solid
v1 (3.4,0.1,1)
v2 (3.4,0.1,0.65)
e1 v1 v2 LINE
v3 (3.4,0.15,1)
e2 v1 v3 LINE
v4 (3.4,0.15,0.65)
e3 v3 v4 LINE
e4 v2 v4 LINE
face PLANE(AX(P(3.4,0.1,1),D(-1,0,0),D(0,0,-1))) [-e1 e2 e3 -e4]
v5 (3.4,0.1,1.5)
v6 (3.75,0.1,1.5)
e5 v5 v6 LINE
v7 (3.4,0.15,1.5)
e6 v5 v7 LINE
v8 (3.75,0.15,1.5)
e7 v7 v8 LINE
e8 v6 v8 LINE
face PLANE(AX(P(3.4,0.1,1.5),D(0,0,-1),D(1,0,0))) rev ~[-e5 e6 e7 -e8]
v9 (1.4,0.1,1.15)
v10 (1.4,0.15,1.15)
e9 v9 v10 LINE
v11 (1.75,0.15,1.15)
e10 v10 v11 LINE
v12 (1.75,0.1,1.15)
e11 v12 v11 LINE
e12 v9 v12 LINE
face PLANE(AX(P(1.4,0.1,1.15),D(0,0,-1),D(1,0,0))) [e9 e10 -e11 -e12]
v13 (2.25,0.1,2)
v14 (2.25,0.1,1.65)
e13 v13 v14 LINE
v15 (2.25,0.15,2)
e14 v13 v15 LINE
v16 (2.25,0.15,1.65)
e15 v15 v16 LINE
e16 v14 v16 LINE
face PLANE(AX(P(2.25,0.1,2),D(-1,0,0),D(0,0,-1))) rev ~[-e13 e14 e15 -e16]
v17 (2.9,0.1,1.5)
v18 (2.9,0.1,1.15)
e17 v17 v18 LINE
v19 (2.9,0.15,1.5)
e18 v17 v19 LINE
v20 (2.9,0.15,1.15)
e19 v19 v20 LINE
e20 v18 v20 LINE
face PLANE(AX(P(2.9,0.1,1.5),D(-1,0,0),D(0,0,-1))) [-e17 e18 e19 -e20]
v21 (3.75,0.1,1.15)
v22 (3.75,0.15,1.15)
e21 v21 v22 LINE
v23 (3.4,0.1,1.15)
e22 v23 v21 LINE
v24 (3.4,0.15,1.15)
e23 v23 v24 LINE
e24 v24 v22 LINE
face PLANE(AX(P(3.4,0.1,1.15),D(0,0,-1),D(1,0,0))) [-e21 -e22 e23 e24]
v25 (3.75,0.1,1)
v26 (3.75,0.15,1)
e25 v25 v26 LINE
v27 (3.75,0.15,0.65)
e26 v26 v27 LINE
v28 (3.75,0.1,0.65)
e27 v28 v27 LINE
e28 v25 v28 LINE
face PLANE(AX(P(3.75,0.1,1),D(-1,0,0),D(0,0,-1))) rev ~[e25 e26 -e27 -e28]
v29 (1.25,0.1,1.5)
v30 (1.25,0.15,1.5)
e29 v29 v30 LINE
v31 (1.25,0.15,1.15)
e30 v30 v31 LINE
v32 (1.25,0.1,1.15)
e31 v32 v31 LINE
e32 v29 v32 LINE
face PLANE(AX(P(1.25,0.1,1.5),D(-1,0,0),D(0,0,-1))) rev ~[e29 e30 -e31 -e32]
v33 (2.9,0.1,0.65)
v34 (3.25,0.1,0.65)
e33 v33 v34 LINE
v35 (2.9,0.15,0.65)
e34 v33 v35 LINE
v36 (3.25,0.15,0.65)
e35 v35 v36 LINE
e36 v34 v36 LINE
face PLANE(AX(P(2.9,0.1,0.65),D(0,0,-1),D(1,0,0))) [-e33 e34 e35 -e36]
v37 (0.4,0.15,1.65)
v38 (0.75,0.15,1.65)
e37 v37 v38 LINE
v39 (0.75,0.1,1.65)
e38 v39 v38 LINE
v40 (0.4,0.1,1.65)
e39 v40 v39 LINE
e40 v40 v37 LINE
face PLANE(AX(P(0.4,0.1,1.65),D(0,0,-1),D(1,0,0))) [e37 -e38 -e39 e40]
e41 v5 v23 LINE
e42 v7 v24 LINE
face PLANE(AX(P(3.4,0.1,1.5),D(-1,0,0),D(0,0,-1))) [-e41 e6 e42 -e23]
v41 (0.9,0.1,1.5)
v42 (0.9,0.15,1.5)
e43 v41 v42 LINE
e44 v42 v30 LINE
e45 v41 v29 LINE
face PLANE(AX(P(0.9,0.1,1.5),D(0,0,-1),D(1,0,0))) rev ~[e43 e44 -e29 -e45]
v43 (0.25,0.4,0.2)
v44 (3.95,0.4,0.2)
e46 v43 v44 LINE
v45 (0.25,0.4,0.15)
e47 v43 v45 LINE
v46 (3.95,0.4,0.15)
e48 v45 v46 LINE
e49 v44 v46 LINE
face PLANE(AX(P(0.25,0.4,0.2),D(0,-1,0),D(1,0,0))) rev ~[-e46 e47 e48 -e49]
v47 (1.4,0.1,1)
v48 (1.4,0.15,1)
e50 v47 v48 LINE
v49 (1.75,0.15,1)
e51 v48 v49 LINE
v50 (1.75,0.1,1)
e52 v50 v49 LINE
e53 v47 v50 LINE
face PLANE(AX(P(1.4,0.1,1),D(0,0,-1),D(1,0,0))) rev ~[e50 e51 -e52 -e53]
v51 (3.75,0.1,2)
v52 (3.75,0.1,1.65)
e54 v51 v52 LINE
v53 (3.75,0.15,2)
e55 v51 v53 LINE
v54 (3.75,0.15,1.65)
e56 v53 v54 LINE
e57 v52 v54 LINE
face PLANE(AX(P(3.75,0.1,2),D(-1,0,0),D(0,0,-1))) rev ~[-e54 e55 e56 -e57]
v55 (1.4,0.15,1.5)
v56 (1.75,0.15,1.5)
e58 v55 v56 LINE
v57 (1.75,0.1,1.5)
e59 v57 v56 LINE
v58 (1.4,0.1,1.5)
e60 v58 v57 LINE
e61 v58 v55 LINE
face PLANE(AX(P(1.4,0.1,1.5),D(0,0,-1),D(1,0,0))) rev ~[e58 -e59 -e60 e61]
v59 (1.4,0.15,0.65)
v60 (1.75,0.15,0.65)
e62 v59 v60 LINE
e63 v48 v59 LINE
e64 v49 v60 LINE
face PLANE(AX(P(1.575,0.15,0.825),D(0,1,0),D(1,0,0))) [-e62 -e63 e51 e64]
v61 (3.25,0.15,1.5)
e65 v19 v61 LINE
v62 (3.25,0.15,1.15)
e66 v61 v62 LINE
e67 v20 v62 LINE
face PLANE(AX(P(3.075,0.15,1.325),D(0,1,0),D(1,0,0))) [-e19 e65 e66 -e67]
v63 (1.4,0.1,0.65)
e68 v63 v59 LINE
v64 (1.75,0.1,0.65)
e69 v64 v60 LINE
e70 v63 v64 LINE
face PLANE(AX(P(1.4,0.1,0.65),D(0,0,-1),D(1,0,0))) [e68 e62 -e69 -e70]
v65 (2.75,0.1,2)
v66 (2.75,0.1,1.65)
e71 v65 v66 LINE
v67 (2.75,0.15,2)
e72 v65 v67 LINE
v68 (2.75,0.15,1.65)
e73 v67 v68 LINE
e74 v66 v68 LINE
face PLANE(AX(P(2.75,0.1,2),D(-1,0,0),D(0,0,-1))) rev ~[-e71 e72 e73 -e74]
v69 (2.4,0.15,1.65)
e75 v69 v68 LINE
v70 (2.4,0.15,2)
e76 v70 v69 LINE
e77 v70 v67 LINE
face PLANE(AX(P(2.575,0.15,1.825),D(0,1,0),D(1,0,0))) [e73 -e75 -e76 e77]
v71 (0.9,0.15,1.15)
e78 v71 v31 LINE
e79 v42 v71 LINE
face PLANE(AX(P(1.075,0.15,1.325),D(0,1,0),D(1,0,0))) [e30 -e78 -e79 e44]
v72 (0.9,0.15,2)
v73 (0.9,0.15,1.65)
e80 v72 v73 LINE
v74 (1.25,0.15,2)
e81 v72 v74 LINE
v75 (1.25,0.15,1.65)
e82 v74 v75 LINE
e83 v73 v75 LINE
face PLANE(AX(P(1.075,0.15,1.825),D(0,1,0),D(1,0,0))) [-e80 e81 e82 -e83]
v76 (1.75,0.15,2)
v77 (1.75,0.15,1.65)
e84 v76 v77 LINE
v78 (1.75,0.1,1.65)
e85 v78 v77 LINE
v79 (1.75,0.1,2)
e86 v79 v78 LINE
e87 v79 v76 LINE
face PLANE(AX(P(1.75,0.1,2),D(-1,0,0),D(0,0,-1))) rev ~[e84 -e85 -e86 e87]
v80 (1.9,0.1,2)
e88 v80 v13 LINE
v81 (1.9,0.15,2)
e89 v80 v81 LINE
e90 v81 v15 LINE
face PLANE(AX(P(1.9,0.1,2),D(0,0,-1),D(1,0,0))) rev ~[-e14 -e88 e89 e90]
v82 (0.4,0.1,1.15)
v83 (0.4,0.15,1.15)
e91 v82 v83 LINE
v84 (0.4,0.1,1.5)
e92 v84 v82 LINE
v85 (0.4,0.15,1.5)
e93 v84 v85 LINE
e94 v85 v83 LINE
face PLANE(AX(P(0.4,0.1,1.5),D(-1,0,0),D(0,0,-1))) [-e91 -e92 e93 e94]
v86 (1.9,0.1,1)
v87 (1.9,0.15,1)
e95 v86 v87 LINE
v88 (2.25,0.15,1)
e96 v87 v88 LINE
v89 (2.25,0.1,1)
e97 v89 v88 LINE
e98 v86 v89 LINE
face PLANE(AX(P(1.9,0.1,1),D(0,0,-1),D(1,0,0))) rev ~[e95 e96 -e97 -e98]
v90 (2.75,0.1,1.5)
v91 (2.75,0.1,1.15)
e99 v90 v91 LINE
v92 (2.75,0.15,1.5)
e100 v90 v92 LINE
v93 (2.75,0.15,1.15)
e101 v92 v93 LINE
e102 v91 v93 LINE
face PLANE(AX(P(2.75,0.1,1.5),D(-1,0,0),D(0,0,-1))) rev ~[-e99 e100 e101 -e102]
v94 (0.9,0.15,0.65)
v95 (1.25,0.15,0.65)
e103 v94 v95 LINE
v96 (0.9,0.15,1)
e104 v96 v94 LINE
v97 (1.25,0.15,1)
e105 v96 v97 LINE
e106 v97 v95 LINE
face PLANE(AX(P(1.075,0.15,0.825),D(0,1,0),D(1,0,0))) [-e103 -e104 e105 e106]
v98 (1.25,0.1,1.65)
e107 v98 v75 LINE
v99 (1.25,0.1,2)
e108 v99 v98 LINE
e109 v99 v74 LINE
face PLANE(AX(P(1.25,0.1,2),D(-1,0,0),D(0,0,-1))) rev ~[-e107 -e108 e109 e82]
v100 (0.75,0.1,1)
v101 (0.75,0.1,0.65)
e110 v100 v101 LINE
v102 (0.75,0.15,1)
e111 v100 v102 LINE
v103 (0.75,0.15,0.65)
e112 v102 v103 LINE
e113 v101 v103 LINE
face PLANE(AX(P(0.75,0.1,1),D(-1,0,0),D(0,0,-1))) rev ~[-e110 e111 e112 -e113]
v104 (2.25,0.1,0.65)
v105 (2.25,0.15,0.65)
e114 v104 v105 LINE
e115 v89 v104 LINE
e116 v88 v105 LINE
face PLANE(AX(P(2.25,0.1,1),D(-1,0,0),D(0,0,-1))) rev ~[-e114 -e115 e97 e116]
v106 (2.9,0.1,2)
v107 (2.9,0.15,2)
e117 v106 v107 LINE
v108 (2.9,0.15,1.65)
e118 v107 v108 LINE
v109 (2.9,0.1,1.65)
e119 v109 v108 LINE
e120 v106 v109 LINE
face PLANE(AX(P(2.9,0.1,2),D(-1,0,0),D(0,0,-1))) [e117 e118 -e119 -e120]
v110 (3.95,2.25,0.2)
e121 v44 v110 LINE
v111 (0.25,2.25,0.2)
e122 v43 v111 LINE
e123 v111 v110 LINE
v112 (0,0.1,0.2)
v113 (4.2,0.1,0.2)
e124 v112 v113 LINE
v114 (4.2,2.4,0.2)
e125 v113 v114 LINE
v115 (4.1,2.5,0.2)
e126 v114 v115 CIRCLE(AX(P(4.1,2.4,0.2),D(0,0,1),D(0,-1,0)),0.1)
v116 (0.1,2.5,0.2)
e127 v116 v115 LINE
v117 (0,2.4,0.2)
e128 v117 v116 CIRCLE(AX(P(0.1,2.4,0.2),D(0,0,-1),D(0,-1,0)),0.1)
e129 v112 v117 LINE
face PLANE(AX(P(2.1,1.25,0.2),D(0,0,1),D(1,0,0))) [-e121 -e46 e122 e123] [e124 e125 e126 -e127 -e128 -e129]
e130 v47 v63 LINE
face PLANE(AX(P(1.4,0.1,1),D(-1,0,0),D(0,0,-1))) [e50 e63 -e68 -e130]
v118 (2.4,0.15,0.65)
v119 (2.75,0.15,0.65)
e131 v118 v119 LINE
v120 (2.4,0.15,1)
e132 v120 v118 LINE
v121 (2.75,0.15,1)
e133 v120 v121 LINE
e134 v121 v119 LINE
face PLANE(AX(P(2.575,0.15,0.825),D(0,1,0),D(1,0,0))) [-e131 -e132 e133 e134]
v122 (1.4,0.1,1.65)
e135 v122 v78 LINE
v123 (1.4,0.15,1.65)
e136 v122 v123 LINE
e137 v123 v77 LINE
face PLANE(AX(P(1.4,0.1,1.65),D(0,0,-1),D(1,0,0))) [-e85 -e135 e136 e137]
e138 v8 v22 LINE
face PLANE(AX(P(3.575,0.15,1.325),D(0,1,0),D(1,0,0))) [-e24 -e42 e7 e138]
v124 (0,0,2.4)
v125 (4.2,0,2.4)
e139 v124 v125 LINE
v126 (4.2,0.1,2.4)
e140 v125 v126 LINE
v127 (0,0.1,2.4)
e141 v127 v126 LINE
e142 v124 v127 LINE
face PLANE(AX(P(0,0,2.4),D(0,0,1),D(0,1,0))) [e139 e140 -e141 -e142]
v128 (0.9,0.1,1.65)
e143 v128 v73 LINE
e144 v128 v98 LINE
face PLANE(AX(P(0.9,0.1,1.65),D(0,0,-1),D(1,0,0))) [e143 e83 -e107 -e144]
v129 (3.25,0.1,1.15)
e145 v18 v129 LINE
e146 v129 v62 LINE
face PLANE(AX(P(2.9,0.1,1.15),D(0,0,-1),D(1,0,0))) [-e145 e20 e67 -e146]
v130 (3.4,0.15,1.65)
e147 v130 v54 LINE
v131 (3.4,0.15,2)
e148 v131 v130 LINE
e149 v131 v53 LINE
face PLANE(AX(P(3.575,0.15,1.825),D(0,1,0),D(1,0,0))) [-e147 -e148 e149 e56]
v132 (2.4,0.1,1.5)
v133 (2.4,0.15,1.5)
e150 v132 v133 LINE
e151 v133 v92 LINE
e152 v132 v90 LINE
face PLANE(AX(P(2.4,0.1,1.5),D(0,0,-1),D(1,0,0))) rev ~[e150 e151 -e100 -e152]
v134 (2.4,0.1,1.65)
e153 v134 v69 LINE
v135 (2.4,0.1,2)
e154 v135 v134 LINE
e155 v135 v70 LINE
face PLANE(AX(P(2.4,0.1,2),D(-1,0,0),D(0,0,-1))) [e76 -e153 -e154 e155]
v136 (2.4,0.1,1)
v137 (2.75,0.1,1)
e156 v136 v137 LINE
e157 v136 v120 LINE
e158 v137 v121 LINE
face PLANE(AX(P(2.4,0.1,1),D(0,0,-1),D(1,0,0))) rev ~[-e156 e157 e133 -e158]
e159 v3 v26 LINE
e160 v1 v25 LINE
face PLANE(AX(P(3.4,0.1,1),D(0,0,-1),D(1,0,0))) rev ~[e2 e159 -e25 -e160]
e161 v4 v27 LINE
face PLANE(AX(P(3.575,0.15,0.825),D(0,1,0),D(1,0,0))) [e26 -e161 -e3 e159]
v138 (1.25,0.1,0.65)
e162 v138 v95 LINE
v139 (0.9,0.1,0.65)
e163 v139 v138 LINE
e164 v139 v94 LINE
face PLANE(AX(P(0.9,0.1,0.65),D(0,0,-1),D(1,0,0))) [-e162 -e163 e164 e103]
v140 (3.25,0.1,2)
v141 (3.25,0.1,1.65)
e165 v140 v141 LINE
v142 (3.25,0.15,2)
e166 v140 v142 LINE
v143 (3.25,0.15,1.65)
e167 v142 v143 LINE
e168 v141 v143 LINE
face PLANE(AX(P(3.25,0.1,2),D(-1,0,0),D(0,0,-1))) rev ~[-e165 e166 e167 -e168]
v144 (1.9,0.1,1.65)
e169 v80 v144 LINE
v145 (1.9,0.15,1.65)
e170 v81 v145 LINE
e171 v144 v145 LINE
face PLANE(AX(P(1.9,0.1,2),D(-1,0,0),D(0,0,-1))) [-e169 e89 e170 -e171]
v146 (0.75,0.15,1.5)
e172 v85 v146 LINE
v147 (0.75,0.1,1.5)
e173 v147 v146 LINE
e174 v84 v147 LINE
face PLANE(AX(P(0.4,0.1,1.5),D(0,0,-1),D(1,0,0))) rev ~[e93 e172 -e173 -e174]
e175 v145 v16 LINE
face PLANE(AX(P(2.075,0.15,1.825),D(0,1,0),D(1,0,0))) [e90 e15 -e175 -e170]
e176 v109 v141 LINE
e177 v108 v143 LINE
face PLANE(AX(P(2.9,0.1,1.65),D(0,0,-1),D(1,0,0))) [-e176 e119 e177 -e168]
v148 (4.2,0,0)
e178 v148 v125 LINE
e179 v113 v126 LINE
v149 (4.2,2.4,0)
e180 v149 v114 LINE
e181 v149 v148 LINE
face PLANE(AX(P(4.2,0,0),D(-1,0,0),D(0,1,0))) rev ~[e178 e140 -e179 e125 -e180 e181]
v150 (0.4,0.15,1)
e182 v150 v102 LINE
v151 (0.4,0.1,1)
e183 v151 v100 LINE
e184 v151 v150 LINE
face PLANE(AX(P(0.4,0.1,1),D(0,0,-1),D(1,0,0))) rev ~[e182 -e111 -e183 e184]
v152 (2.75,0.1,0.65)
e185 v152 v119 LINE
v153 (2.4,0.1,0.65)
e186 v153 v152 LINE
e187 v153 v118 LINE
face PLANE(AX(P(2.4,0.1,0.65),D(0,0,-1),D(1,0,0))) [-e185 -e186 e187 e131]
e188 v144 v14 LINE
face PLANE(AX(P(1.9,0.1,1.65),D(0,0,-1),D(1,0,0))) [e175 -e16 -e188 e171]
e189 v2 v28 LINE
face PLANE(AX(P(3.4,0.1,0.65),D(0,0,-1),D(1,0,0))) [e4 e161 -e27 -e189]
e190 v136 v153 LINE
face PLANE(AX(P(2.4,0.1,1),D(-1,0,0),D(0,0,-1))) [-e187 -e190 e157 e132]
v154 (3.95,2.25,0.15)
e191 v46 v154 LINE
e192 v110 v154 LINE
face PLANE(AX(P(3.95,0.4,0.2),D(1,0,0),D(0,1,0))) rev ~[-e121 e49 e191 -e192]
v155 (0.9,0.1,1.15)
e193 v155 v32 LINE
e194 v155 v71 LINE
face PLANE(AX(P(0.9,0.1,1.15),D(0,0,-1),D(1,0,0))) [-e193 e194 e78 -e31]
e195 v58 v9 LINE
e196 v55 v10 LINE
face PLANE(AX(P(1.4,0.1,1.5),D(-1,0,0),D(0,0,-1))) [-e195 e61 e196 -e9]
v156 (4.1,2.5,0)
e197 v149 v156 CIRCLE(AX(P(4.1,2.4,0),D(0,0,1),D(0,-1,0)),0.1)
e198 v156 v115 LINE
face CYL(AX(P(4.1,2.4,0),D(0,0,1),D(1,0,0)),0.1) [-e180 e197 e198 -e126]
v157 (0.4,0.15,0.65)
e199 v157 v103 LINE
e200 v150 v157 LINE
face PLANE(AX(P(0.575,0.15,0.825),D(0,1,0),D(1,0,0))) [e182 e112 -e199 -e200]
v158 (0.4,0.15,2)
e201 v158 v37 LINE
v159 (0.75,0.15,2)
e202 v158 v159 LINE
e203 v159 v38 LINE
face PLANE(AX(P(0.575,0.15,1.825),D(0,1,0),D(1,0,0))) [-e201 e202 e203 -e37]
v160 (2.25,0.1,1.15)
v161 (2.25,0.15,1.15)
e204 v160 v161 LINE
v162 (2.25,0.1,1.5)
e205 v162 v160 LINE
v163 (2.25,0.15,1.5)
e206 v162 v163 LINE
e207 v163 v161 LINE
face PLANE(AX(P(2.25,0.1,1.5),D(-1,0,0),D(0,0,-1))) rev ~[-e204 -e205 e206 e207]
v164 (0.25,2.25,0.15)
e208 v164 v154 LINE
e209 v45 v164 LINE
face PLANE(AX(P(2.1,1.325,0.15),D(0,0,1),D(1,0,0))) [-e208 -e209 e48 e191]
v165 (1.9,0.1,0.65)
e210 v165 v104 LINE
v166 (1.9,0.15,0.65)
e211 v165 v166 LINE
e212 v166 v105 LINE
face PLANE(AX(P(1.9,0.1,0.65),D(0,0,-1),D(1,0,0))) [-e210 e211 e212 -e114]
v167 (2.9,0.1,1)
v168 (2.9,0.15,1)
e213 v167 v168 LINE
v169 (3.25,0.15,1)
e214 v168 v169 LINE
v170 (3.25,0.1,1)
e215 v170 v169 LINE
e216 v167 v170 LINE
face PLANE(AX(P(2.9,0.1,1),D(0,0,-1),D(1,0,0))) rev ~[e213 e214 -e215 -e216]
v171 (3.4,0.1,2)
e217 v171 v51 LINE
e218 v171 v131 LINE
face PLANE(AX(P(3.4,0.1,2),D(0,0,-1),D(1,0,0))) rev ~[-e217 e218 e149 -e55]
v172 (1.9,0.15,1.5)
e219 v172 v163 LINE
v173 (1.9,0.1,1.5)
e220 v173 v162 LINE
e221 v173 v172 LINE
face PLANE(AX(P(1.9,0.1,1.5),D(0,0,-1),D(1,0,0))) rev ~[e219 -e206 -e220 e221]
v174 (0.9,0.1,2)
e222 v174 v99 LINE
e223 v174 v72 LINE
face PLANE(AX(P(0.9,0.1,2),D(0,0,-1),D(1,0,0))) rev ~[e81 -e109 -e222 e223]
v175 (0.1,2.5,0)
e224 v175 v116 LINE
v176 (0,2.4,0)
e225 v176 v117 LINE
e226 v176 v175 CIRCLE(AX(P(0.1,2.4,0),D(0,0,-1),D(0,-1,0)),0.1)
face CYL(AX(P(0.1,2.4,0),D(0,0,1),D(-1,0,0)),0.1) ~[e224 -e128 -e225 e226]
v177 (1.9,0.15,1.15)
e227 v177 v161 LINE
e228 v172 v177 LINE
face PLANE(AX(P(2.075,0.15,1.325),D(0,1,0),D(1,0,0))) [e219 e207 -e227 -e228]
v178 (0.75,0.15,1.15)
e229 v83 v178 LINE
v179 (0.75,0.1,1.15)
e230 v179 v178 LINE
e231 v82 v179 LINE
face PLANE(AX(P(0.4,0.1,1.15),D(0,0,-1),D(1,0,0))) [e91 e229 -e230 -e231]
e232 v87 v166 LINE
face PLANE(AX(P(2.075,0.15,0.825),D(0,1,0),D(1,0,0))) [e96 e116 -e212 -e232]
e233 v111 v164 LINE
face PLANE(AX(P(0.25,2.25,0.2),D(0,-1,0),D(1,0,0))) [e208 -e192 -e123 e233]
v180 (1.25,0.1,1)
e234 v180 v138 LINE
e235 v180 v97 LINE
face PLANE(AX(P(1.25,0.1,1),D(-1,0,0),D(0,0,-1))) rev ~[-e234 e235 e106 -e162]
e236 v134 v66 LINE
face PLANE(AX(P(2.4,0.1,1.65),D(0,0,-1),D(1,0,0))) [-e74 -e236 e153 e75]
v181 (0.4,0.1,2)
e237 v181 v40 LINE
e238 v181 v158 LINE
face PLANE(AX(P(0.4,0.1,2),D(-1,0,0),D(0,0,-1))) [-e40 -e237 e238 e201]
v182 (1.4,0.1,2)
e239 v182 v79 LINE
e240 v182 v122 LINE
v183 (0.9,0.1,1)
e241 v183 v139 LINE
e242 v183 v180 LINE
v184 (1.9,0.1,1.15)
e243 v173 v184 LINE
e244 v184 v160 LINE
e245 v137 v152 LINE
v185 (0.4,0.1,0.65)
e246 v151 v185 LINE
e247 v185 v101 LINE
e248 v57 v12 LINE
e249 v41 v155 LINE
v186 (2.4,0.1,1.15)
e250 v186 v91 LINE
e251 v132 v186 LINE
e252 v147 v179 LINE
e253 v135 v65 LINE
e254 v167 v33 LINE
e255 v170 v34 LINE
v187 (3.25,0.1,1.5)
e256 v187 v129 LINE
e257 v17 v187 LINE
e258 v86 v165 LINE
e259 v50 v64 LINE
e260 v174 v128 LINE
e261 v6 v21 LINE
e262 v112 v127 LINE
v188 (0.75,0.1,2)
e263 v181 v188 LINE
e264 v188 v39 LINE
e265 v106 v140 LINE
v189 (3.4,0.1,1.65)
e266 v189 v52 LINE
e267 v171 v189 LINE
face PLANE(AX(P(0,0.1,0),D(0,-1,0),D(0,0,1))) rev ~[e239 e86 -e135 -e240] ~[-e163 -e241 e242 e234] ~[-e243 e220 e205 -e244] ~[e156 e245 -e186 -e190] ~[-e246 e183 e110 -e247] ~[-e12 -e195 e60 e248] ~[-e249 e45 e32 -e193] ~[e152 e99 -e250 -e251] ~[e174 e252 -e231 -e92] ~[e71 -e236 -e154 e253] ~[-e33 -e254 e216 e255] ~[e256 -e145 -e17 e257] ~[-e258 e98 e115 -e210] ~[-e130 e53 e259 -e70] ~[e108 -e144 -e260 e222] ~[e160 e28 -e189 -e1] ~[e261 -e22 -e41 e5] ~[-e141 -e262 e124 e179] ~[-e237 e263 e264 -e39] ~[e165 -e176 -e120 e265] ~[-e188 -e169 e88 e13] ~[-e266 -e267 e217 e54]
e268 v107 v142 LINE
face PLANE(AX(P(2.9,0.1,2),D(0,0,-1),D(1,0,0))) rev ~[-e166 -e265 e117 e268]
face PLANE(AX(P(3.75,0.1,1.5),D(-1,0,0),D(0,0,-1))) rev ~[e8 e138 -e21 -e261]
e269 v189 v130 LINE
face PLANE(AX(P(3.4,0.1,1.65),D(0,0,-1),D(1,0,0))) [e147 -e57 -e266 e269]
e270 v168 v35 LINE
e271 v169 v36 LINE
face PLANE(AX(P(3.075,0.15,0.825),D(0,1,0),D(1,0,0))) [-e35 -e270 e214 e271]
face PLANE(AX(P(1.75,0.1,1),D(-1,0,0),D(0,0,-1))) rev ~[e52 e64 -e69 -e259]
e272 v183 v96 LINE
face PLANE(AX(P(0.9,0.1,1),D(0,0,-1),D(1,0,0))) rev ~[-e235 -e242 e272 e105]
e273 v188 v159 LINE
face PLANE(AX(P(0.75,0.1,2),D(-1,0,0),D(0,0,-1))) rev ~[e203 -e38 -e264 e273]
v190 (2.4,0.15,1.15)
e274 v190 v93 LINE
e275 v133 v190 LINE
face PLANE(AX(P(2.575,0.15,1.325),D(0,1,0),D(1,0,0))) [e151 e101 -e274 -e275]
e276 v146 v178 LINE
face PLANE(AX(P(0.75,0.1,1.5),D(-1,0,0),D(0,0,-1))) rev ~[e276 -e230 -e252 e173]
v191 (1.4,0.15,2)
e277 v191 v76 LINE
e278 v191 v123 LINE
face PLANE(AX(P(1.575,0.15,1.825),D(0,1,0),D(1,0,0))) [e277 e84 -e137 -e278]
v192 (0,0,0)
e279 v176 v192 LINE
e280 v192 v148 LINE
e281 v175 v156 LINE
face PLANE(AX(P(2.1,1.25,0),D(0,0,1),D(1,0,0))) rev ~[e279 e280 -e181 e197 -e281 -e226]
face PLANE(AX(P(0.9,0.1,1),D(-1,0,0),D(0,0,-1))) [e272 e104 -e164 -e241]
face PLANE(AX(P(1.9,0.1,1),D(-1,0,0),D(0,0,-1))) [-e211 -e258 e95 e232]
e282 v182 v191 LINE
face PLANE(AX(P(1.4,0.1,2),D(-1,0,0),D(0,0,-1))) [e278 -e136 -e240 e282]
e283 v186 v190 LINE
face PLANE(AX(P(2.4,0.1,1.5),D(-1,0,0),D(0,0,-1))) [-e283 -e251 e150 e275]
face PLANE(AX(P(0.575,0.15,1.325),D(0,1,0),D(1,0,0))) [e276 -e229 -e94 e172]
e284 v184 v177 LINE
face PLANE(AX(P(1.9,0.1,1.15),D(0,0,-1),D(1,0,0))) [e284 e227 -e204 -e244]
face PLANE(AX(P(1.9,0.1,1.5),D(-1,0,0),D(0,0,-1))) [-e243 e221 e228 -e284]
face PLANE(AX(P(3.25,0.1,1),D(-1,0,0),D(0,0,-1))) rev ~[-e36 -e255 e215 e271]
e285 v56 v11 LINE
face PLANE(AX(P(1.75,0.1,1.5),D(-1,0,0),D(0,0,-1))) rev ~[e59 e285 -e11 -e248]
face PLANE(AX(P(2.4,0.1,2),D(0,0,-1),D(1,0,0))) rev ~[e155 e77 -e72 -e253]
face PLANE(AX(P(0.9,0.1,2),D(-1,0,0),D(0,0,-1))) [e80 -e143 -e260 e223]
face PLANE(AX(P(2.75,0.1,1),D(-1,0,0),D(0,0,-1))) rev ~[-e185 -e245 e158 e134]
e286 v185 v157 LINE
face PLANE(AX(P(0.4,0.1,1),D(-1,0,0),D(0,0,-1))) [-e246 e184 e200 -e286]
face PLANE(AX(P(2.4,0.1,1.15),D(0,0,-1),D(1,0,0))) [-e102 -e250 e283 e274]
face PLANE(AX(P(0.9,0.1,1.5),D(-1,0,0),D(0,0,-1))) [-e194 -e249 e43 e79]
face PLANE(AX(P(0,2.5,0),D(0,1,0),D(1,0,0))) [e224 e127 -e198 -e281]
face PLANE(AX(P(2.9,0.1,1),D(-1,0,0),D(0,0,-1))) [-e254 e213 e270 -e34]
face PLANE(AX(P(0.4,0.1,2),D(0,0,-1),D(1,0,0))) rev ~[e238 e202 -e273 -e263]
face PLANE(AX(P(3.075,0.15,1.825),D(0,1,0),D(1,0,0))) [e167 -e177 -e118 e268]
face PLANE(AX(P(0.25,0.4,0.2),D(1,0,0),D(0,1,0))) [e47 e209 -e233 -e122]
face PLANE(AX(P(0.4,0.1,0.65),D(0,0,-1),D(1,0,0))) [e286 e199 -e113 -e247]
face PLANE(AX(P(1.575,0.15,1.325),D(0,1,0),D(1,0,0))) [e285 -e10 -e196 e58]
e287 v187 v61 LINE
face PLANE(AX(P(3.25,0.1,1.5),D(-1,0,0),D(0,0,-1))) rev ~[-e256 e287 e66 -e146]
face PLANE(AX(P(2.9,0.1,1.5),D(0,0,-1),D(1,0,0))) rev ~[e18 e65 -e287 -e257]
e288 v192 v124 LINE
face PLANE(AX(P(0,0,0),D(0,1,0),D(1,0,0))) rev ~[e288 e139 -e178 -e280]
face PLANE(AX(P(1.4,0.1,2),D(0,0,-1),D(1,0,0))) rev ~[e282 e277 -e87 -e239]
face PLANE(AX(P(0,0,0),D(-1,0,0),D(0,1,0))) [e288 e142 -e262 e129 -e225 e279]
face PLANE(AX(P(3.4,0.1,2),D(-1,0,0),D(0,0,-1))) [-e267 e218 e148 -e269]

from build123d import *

# Parameters (mm, degrees)
SKETCH1_W           = 4.2
SKETCH1_H           = 2.5
BOSS_EXTRUDE1_DEPTH = 0.2
SKETCH2_W           = 3.7
SKETCH2_H           = 1.85
CUT_EXTRUDE1_DEPTH  = 0.05
SKETCH3_W           = 2.4
SKETCH3_H           = 0.1
BOSS_EXTRUDE3_DEPTH = 4.2
FILLET3_R           = 0.1
SKETCH4_W           = 0.35
SKETCH4_H           = 0.35
BOSS_EXTRUDE4_DEPTH = 0.05


with BuildPart() as part:
    # Sketch1 → Boss-Extrude1 (new body)
    with BuildSketch(Plane.XY):
        with Locations((2.1, 1.25)):
            Rectangle(SKETCH1_W, SKETCH1_H)
    extrude(amount=BOSS_EXTRUDE1_DEPTH)

    # Sketch2 → Cut-Extrude1 (cut)
    with BuildSketch(Plane.XY.offset(0.2)):
        with Locations((2.1, 1.325)):
            Rectangle(SKETCH2_W, SKETCH2_H)
    extrude(amount=-CUT_EXTRUDE1_DEPTH, mode=Mode.SUBTRACT)

    # Sketch3 → Boss-Extrude3 (add)
    with BuildSketch(Plane.ZY):
        with Locations((1.2, 0.05)):
            Rectangle(SKETCH3_W, SKETCH3_H)
    extrude(amount=-BOSS_EXTRUDE3_DEPTH)

    # Fillet3
    fillet3_edges = [part.edges().sort_by_distance(p)[0] for p in [
        (0, 2.5, 0.1),
        (4.2, 2.5, 0.1),
    ]]
    fillet(fillet3_edges, radius=FILLET3_R)

    # Sketch4 → Boss-Extrude4 (add)
    with BuildSketch(Plane(origin=(0, 0.1, 0), x_dir=(1, 0, 0), z_dir=(0, 1, 0))):
        with Locations((0.575, -1.825)):
            Rectangle(SKETCH4_W, SKETCH4_H)
        with Locations((1.075, -1.825)):
            Rectangle(SKETCH4_W, SKETCH4_H)
        with Locations((1.575, -1.825)):
            Rectangle(SKETCH4_W, SKETCH4_H)
        with Locations((2.075, -1.825)):
            Rectangle(SKETCH4_W, SKETCH4_H)
        with Locations((2.575, -1.825)):
            Rectangle(SKETCH4_W, SKETCH4_H)
        with Locations((3.075, -1.825)):
            Rectangle(SKETCH4_W, SKETCH4_H)
        with Locations((3.575, -1.825)):
            Rectangle(SKETCH4_W, SKETCH4_H)
        with Locations((1.075, -1.325)):
            Rectangle(SKETCH4_W, SKETCH4_H)
        with Locations((1.575, -1.325)):
            Rectangle(SKETCH4_W, SKETCH4_H)
        with Locations((2.075, -1.325)):
            Rectangle(SKETCH4_W, SKETCH4_H)
        with Locations((2.575, -1.325)):
            Rectangle(SKETCH4_W, SKETCH4_H)
        with Locations((3.075, -1.325)):
            Rectangle(SKETCH4_W, SKETCH4_H)
        with Locations((3.575, -1.325)):
            Rectangle(SKETCH4_W, SKETCH4_H)
        with Locations((1.075, -0.825)):
            Rectangle(SKETCH4_W, SKETCH4_H)
        with Locations((1.575, -0.825)):
            Rectangle(SKETCH4_W, SKETCH4_H)
        with Locations((2.075, -0.825)):
            Rectangle(SKETCH4_W, SKETCH4_H)
        with Locations((2.575, -0.825)):
            Rectangle(SKETCH4_W, SKETCH4_H)
        with Locations((3.075, -0.825)):
            Rectangle(SKETCH4_W, SKETCH4_H)
        with Locations((3.575, -0.825)):
            Rectangle(SKETCH4_W, SKETCH4_H)
        with Locations((0.575, -1.325)):
            Rectangle(SKETCH4_W, SKETCH4_H)
        with Locations((0.575, -0.825)):
            Rectangle(SKETCH4_W, SKETCH4_H)
    extrude(amount=BOSS_EXTRUDE4_DEPTH)


solid = part.part
